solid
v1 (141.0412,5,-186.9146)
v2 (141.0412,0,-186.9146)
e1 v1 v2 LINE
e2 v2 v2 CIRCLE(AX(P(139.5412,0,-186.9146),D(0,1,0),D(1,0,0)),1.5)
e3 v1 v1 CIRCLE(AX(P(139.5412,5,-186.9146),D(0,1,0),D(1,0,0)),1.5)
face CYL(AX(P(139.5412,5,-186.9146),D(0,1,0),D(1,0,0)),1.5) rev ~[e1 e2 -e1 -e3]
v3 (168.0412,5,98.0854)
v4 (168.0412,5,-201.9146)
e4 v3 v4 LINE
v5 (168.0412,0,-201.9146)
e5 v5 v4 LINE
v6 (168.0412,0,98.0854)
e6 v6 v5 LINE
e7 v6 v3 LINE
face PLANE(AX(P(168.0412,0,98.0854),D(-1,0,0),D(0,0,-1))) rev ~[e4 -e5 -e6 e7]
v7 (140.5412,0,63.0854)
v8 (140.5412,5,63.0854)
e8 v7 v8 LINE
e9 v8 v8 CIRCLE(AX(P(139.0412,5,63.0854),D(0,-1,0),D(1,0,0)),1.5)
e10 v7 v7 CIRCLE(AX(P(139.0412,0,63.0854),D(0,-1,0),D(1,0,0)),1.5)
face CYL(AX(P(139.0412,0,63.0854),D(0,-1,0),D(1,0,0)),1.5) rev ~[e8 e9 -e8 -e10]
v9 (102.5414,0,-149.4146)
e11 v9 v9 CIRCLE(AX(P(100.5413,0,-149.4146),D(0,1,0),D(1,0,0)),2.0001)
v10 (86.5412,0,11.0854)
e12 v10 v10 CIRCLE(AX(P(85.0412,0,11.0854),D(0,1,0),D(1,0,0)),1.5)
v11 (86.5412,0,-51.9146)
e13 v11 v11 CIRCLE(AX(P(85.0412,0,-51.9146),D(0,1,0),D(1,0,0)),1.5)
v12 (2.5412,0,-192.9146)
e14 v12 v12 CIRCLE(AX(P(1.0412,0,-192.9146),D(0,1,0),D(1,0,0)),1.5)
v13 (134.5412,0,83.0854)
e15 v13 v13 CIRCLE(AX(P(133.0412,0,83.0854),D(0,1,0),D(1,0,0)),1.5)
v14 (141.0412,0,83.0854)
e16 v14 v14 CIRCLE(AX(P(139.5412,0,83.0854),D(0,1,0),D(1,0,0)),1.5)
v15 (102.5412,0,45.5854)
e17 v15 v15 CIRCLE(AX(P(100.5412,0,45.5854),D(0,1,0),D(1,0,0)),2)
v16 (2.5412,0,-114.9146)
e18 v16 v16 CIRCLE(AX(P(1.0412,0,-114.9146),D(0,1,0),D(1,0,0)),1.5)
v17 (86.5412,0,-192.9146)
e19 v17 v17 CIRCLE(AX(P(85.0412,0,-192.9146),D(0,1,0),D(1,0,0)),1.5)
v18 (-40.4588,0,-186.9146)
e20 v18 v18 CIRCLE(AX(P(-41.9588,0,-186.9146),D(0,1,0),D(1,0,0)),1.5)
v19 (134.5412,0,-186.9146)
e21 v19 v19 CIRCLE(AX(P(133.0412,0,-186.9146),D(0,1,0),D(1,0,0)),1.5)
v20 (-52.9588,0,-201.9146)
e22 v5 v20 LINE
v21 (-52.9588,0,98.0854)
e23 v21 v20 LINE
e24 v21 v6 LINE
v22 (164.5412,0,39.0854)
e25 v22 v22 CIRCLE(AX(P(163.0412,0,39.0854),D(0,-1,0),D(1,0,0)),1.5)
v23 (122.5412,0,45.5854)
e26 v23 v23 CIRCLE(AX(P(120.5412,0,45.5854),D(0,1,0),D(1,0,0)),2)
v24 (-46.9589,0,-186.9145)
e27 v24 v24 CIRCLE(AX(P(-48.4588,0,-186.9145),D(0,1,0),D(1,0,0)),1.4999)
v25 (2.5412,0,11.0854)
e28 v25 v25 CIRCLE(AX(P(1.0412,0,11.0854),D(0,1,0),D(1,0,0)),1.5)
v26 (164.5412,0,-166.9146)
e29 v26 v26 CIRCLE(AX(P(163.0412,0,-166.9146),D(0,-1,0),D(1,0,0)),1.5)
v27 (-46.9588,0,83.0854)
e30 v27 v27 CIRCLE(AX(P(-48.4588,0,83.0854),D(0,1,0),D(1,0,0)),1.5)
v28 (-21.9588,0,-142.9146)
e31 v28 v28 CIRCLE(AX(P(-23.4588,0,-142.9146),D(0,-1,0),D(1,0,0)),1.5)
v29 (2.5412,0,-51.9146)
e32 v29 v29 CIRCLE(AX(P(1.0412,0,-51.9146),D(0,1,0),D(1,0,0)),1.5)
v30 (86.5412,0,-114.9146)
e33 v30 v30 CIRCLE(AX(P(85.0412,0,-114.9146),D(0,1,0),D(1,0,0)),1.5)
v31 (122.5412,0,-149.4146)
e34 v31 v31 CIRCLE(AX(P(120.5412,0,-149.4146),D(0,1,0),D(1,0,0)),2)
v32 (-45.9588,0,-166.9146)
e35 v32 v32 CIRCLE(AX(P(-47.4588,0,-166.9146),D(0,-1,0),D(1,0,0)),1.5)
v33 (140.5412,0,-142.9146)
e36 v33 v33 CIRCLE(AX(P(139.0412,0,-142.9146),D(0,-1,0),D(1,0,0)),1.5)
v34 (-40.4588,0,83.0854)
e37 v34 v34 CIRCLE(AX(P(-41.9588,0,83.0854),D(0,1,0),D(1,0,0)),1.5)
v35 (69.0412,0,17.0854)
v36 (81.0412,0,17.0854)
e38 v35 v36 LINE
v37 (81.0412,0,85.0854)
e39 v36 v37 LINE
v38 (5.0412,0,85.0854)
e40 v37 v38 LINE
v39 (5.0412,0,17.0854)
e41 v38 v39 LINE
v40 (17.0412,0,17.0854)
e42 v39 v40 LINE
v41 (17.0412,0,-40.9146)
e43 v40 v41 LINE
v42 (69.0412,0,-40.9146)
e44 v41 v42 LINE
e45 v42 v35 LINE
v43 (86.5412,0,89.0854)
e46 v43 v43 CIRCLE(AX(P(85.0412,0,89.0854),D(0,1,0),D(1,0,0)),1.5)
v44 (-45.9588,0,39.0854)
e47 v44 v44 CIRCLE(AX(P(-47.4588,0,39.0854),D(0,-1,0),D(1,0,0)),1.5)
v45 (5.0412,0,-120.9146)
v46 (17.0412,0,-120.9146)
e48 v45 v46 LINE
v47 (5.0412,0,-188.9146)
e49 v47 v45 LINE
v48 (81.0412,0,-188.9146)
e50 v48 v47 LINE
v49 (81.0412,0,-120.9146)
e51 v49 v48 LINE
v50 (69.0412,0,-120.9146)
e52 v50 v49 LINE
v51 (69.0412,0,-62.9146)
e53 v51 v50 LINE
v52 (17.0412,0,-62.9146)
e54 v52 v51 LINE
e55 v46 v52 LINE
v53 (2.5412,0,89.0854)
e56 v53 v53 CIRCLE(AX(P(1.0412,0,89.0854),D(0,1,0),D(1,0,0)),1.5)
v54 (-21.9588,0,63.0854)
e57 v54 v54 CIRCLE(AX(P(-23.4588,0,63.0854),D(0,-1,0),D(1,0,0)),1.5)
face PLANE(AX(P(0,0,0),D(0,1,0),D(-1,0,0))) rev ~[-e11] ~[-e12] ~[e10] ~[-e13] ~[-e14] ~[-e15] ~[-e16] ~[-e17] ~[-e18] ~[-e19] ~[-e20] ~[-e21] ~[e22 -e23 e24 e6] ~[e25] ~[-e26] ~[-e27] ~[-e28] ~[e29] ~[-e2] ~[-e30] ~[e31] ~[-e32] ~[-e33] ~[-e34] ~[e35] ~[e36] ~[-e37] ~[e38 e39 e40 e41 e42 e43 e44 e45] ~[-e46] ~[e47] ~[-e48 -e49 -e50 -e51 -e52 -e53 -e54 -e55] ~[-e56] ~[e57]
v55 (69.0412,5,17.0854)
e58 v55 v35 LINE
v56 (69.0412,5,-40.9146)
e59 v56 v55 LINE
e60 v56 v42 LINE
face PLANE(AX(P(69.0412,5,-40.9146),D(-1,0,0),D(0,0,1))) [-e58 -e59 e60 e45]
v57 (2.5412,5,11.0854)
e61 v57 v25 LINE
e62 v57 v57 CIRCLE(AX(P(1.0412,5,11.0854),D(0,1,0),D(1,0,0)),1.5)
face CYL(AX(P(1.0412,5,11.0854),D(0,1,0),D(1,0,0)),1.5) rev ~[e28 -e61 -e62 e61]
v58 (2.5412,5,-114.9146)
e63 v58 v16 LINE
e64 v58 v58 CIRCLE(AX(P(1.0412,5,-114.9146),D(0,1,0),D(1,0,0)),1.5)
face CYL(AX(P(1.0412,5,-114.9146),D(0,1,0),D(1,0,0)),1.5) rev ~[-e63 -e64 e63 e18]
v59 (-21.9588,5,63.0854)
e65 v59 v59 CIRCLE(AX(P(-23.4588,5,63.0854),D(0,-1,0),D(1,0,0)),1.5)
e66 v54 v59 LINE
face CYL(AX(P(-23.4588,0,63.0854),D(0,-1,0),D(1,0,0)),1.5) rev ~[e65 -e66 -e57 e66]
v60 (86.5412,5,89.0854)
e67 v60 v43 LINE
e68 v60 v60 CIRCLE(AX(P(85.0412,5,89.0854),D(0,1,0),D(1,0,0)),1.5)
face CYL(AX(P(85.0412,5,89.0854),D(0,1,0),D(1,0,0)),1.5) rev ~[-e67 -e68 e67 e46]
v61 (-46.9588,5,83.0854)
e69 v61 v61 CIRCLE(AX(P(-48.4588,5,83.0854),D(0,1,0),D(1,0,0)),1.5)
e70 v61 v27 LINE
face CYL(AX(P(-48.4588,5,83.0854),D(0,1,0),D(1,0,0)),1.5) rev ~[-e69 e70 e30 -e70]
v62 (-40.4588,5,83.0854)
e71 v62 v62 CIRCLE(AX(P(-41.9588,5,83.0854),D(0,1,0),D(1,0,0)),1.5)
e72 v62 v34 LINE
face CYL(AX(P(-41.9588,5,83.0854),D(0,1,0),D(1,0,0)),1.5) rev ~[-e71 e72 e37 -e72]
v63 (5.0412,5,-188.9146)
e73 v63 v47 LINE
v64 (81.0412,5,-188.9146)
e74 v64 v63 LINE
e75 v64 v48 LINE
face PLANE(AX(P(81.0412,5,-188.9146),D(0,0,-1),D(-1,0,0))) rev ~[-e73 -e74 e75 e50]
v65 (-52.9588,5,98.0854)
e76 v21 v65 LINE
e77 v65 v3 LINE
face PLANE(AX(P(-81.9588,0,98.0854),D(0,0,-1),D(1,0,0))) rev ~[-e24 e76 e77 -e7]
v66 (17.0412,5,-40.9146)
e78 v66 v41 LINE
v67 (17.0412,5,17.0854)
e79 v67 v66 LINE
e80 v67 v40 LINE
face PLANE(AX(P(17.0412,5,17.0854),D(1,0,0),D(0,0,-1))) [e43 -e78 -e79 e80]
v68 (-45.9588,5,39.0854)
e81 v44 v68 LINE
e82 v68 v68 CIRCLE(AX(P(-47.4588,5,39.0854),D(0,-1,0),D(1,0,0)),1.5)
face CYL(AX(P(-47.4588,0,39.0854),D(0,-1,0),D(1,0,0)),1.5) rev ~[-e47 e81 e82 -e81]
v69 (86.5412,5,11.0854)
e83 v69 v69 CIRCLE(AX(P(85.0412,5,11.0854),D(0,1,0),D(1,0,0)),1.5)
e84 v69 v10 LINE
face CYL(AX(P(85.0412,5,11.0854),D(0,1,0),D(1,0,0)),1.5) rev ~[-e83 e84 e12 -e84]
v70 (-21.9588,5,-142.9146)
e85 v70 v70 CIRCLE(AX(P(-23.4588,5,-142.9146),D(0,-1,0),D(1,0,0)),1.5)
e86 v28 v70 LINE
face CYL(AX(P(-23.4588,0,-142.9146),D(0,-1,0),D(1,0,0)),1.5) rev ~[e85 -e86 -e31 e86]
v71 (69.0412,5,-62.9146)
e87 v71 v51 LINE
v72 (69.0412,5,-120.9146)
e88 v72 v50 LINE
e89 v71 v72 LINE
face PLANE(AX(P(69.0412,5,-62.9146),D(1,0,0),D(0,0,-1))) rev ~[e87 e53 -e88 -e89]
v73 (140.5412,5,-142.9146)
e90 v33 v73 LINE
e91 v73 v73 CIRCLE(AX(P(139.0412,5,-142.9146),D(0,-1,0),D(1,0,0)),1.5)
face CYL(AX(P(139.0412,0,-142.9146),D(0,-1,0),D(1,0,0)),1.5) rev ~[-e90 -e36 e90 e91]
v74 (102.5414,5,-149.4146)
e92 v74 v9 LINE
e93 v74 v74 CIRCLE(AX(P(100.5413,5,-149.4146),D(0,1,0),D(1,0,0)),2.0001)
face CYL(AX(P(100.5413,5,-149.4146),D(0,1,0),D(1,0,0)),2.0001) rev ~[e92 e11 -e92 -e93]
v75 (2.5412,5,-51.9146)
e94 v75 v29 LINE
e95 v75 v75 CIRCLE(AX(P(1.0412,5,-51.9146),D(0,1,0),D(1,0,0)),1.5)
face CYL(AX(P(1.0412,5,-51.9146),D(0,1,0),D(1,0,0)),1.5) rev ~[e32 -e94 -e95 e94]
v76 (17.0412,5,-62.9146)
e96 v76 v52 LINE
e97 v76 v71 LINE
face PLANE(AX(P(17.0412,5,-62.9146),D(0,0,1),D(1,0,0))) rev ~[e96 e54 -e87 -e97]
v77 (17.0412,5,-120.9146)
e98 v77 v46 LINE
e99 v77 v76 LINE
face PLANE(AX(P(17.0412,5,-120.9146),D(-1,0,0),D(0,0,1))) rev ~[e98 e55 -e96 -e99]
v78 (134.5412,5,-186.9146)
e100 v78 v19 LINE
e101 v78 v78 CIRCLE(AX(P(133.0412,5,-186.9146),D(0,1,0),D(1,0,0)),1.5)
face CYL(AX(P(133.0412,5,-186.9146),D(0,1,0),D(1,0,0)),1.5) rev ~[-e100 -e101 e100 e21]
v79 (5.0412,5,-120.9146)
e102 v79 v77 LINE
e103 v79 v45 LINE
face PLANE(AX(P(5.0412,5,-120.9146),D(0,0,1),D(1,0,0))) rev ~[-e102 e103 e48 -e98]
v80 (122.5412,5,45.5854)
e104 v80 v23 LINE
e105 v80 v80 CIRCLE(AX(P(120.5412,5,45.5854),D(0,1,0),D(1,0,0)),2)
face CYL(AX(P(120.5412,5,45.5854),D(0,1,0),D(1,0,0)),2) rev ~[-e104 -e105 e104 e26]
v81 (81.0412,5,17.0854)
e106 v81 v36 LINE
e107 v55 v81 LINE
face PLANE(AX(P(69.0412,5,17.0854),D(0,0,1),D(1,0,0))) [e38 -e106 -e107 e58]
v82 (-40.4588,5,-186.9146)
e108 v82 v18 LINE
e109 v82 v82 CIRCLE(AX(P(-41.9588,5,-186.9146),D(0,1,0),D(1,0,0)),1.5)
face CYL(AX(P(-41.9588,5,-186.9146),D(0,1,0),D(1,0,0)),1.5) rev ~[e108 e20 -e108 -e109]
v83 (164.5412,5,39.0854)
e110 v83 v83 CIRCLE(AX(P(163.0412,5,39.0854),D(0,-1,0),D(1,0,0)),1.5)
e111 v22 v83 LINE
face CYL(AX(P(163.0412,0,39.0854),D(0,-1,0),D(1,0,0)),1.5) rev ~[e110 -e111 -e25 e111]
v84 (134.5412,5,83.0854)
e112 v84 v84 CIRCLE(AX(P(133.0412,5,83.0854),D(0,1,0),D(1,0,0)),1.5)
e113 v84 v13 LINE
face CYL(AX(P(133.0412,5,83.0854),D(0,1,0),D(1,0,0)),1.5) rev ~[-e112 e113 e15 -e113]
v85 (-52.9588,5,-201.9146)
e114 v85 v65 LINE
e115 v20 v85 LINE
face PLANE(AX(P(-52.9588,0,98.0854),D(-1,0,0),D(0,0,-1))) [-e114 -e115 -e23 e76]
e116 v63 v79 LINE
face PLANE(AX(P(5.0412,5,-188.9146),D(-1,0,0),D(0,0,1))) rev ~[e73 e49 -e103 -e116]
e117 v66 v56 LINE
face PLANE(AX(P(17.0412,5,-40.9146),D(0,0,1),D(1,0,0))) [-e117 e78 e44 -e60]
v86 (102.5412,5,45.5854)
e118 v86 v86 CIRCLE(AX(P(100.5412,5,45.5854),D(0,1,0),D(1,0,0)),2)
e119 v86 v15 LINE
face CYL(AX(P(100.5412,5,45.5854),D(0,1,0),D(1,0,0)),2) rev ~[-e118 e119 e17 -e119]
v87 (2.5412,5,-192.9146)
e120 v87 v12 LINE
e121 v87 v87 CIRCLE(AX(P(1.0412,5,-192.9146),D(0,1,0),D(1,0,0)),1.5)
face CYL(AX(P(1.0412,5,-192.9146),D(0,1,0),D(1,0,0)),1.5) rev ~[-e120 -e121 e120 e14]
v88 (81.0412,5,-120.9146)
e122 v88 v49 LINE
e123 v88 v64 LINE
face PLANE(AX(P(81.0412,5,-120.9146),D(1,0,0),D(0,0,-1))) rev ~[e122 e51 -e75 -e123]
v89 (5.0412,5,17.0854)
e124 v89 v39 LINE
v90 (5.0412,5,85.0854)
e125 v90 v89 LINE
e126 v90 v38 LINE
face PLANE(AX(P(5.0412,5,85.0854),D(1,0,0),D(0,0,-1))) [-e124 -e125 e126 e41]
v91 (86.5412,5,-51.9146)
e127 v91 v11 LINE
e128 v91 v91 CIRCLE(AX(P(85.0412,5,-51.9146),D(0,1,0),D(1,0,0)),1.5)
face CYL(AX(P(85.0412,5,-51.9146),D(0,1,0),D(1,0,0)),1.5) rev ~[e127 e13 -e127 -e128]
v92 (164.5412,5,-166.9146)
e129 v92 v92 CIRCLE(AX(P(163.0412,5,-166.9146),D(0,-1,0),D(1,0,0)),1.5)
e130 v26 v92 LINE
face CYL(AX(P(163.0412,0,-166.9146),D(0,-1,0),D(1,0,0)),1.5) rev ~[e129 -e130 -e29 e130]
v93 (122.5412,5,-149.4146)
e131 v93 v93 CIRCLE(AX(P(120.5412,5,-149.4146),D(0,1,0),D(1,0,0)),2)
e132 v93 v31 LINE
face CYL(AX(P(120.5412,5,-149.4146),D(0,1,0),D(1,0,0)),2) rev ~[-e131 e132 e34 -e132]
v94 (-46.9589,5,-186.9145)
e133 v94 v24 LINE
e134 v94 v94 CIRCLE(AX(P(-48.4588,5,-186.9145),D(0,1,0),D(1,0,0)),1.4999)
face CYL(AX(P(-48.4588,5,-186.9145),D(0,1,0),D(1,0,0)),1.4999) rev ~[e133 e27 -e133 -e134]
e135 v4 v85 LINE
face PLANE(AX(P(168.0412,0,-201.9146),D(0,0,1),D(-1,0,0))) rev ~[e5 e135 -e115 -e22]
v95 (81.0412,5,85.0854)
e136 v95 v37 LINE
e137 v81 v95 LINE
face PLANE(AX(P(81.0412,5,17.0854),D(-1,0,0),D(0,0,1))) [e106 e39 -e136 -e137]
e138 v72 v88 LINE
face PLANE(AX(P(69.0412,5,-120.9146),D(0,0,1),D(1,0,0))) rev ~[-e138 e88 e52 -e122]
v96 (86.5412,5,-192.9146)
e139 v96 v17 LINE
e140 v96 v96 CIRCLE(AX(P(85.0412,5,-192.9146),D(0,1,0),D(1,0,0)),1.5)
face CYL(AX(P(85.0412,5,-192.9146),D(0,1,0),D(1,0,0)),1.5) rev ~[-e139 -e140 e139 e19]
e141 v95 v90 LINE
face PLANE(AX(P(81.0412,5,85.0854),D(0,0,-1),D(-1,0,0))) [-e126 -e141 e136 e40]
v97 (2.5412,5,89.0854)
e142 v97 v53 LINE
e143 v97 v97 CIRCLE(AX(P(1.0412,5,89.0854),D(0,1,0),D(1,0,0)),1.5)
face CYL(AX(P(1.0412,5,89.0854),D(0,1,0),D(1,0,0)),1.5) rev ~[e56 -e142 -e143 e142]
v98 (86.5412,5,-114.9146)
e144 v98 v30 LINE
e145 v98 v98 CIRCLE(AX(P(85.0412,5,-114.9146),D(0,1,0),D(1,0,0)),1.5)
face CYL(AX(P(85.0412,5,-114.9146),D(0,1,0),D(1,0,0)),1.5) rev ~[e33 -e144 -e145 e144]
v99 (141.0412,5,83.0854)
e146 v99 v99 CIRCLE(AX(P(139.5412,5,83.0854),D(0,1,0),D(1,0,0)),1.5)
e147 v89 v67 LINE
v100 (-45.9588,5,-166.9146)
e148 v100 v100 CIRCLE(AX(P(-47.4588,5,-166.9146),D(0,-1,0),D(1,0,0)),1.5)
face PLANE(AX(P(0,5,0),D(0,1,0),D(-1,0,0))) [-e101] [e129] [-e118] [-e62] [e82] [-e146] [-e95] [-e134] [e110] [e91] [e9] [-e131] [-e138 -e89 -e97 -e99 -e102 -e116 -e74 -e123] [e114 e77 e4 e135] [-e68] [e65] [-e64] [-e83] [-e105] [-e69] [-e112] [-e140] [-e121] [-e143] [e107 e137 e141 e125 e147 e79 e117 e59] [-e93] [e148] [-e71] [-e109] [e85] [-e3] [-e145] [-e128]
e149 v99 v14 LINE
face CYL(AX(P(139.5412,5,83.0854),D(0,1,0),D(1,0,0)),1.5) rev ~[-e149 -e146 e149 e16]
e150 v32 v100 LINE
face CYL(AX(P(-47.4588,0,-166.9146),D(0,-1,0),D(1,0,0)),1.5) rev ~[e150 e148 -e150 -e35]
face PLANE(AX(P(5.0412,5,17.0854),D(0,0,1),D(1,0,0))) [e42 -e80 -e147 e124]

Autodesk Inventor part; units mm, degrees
ref_plane "YZ Plane" through (0, 0, 0) normal (1, 0, 0) x (0, 1, 0)
ref_plane "XZ Plane" through (0, 0, 0) normal (0, 1, 0) x (-1, 0, 0)
ref_plane "XY Plane" through (0, 0, 0) normal (0, 0, 1) x (1, 0, 0)
sketch "Esquisse1" plane through (0, 0, 0) normal (0, 1, 0) x (-1, 0, 0)
  line L0 (81.9588, 98.0854) -> (-168.0412, 98.0854)
  line L1 (-168.0412, 98.0854) -> (-168.0412, -201.9146)
  line L2 (-168.0412, -201.9146) -> (81.9588, -201.9146)
  line L3 (81.9588, -201.9146) -> (81.9588, 98.0854)
  point P0 (0, 0)
  dimension "d0" = 300
  dimension "d1" = 250
extrude "Extrusion1" add sketch "Esquisse1" along normal blind 5
sketch "Sketch3" plane through (0, 5, 0) normal (0, 1, 0) x (1, 0, 0)
  line L0 (81.0412, -85.0854) -> (5.0412, -85.0854)
  line L1 (5.0412, -85.0854) -> (5.0412, -17.0854)
  line L2 (81.0412, -17.0854) -> (81.0412, -85.0854)
  line L3 (-81.9588, -98.0854) -> (168.0412, -98.0854) projected
  line L4 (168.0412, -98.0854) -> (168.0412, 201.9146) projected
  line L5 (17.0412, -17.0854) -> (17.0412, 40.9146)
  line L6 (17.0412, 40.9146) -> (69.0412, 40.9146)
  line L7 (69.0412, 40.9146) -> (69.0412, -17.0854)
  line L8 (5.0412, -17.0854) -> (17.0412, -17.0854)
  line L9 (69.0412, -17.0854) -> (81.0412, -17.0854)
  line L10 (81.0412, 188.9146) -> (5.0412, 188.9146)
  line L11 (5.0412, 188.9146) -> (5.0412, 120.9146)
  line L12 (81.0412, 120.9146) -> (81.0412, 188.9146)
  line L13 (168.0412, 201.9146) -> (-81.9588, 201.9146) projected
  line L14 (17.0412, 120.9146) -> (17.0412, 62.9146)
  line L15 (17.0412, 62.9146) -> (69.0412, 62.9146)
  line L16 (69.0412, 62.9146) -> (69.0412, 120.9146)
  line L17 (5.0412, 120.9146) -> (17.0412, 120.9146)
  line L18 (69.0412, 120.9146) -> (81.0412, 120.9146)
  circle A0 centre (85.0412, 51.9146) radius 1.5
  line L19 (-81.9588, 201.9146) -> (-81.9588, -98.0854) projected
  circle A1 centre (1.0412, 51.9146) radius 1.5
  point P0 (0, 0)
  dimension "d17" = 76
  dimension "d18" = 68
  dimension "d19" = 13
  dimension "d20" = 87
  dimension "d21" = 12
  dimension "d22" = 12
  dimension "d23" = 58
  dimension "d24" = 68
  dimension "d25" = 52
  dimension "d26" = 13
  dimension "d27" = 76
  dimension "d28" = 68
  dimension "d29" = 87
  dimension "d30" = 12
  dimension "d31" = 12
  dimension "d32" = 58
  dimension "d33" = 52
  dimension "d34" = 68
  dimension "d39" = 3
  dimension "d53" = 83
  dimension "d54" = 150
  dimension "d58" = 3
  dimension "d59" = 83
  dimension "d60" = 150
extrude "Extrusion3" cut sketch "Sketch3" against normal through all contours L0 L1 L8 L5 L6 L7 L9 L2 | L12 L18 L16 L15 L14 L17 L11 L10 | A0 | A1
sketch "Sketch4" plane through (0, 5, 0) normal (0, 1, 0) x (1, 0, 0)
  circle A0 centre (1.0412, -89.0854) radius 1.5 projected
  circle A1 centre (1.0412, -11.0854) radius 1.5 projected
  circle A2 centre (85.0412, -89.0854) radius 1.5 projected
  circle A3 centre (85.0412, -11.0854) radius 1.5 projected
  circle A4 centre (1.0412, 114.9146) radius 1.5 projected
  circle A5 centre (1.0412, 192.9146) radius 1.5 projected
  circle A6 centre (85.0412, 192.9146) radius 1.5 projected
  circle A7 centre (85.0412, 114.9146) radius 1.5 projected
  point P0 (0, 0)
extrude "Extrusion4" cut sketch "Sketch4" against normal up to next
sketch "Esquisse5" plane through (0, 5, 0) normal (0, 1, 0) x (1, 0, 0)
  circle A0 centre (139.5412, -83.0854) radius 1.5 projected
  circle A1 centre (133.0412, -83.0854) radius 1.5 projected
  circle A2 centre (133.0412, 186.9146) radius 1.5 projected
  circle A3 centre (139.5412, 186.9146) radius 1.5 projected
  circle A4 centre (-41.9588, 186.9146) radius 1.5 projected
  circle A5 centre (-48.4588, 186.9145) radius 1.4999 projected
  circle A6 centre (-41.9588, -83.0854) radius 1.5 projected
  circle A7 centre (85.0412, 192.9146) radius 1.5 projected
  circle A8 centre (1.0412, 114.9146) radius 1.5 projected
  circle A9 centre (85.0412, -89.0854) radius 1.5 projected
  circle A10 centre (1.0412, -89.0854) radius 1.5 projected
  circle A11 centre (1.0412, -11.0854) radius 1.5 projected
  circle A12 centre (85.0412, -11.0854) radius 1.5 projected
  circle A13 centre (1.0412, 192.9146) radius 1.5 projected
  circle A14 centre (85.0412, 114.9146) radius 1.5 projected
  line L0 (81.0412, -17.0854) -> (81.0412, -85.0854) projected
  line L1 (81.0412, -85.0854) -> (5.0412, -85.0854) projected
  line L2 (5.0412, -85.0854) -> (5.0412, -17.0854) projected
  line L3 (5.0412, -17.0854) -> (17.0412, -17.0854) projected
  line L4 (17.0412, -17.0854) -> (17.0412, 40.9146) projected
  line L5 (17.0412, 40.9146) -> (69.0412, 40.9146) projected
  line L6 (69.0412, 40.9146) -> (69.0412, -17.0854) projected
  line L7 (69.0412, -17.0854) -> (81.0412, -17.0854) projected
  circle A15 centre (85.0412, 51.9146) radius 1.5 projected
  circle A16 centre (1.0412, 51.9146) radius 1.5 projected
  line L8 (5.0412, 120.9146) -> (5.0412, 188.9146) projected
  line L9 (5.0412, 188.9146) -> (81.0412, 188.9146) projected
  line L10 (81.0412, 188.9146) -> (81.0412, 120.9146) projected
  line L11 (81.0412, 120.9146) -> (69.0412, 120.9146) projected
  line L12 (69.0412, 120.9146) -> (69.0412, 62.9146) projected
  line L13 (69.0412, 62.9146) -> (17.0412, 62.9146) projected
  line L14 (17.0412, 62.9146) -> (17.0412, 120.9146) projected
  line L15 (17.0412, 120.9146) -> (5.0412, 120.9146) projected
  line L16 (-81.9588, -98.0854) -> (168.0412, -98.0854) projected
  line L17 (168.0412, -98.0854) -> (168.0412, 201.9146) projected
  line L18 (168.0412, 201.9146) -> (-81.9588, 201.9146) projected
  line L19 (-81.9588, 201.9146) -> (-81.9588, -98.0854) projected
  circle A17 centre (-48.4588, -83.0854) radius 1.5 projected
  point P0 (0, 0)
extrude "Extrusion5" cut sketch "Esquisse5" against normal up to next contours A0 | A1 | A2 | A3 | A4 | A5 | A6 | A17
sketch "Esquisse6" plane through (0, 0, 0) normal (0, -1, 0) x (1, 0, 0)
  circle A0 centre (139.0412, 63.0854) radius 1.5 projected
  circle A1 centre (163.0412, 39.0854) radius 1.5 projected
  circle A2 centre (139.0412, -142.9146) radius 1.5 projected
  circle A3 centre (163.0412, -166.9146) radius 1.5 projected
  line L0 (-81.9588, 98.0854) -> (168.0412, 98.0854) projected
  line L1 (168.0412, -201.9146) -> (-81.9588, -201.9146) projected
  line L2 (57.7912, 123.3914) -> (57.7912, -232.7016)
  line L3 (168.0412, 98.0854) -> (168.0412, -201.9146) projected
  circle A4 centre (-23.4588, 63.0854) radius 1.5
  circle A5 centre (-47.4588, 39.0854) radius 1.5
  circle A6 centre (-23.4588, -142.9146) radius 1.5
  circle A7 centre (-47.4588, -166.9146) radius 1.5
  point P0 (0, 0)
  dimension "d82" = 110.25
extrude "Extrusion6" cut sketch "Esquisse6" against normal up to next contours A0 | A1 | A2 | A3 | A4 | A5 | A6 | A7
sketch "Esquisse7" plane through (0, 5, 0) normal (0, 1, 0) x (1, 0, 0)
  circle A0 centre (152.0412, 161.9146) radius 1.5 projected
  circle A1 centre (-65.9588, 51.9146) radius 1.5 projected
  circle A2 centre (152.0412, 51.9146) radius 1.5 projected
  circle A3 centre (152.0412, -58.0854) radius 1.5 projected
  line L0 (-81.9588, 201.9146) -> (168.0412, 201.9146) projected
  line L1 (-81.9588, -98.0854) -> (-81.9588, 201.9146) projected
  line L2 (168.0412, -98.0854) -> (-81.9588, -98.0854) projected
  line L3 (168.0412, 201.9146) -> (168.0412, -98.0854) projected
  circle A4 centre (152.0412, 161.9146) radius 1.5 projected
  circle A5 centre (-65.9588, 51.9146) radius 1.5 projected
  circle A6 centre (152.0412, 51.9146) radius 1.5 projected
  circle A7 centre (152.0412, -58.0854) radius 1.5 projected
  line L4 (-81.9588, 201.9146) -> (168.0412, 201.9146) projected
  line L5 (-81.9588, -98.0854) -> (-81.9588, 201.9146) projected
  line L6 (168.0412, -98.0854) -> (-81.9588, -98.0854) projected
  line L7 (168.0412, 201.9146) -> (168.0412, -98.0854) projected
  circle A8 centre (152.0412, 161.9146) radius 1.5 projected
  circle A9 centre (-65.9588, 51.9146) radius 1.5 projected
  circle A10 centre (152.0412, 51.9146) radius 1.5 projected
  circle A11 centre (152.0412, -58.0854) radius 1.5 projected
  line L8 (-81.9588, 201.9146) -> (168.0412, 201.9146) projected
  line L9 (-81.9588, -98.0854) -> (-81.9588, 201.9146) projected
  line L10 (168.0412, -98.0854) -> (-81.9588, -98.0854) projected
  line L11 (168.0412, 201.9146) -> (168.0412, -98.0854) projected
  circle A12 centre (133.0412, -83.0854) radius 1.5 projected
  circle A13 centre (-41.9588, 186.9146) radius 1.5 projected
  circle A14 centre (133.0412, 186.9146) radius 1.5 projected
  circle A15 centre (-48.4588, 186.9145) radius 1.4999 projected
  circle A16 centre (139.5412, 186.9146) radius 1.5 projected
  circle A17 centre (-41.9588, -83.0854) radius 1.5 projected
  circle A18 centre (139.5412, -83.0854) radius 1.5 projected
  circle A19 centre (-48.4588, -83.0854) radius 1.5 projected
  circle A20 centre (85.0412, 192.9146) radius 1.5 projected
  circle A21 centre (1.0412, 114.9146) radius 1.5 projected
  circle A22 centre (85.0412, -89.0854) radius 1.5 projected
  circle A23 centre (1.0412, -89.0854) radius 1.5 projected
  circle A24 centre (1.0412, -11.0854) radius 1.5 projected
  circle A25 centre (85.0412, -11.0854) radius 1.5 projected
  circle A26 centre (1.0412, 192.9146) radius 1.5 projected
  circle A27 centre (85.0412, 114.9146) radius 1.5 projected
  line L12 (81.0412, -17.0854) -> (81.0412, -85.0854) projected
  line L13 (81.0412, -85.0854) -> (5.0412, -85.0854) projected
  line L14 (5.0412, -85.0854) -> (5.0412, -17.0854) projected
  line L15 (5.0412, -17.0854) -> (17.0412, -17.0854) projected
  line L16 (17.0412, -17.0854) -> (17.0412, 40.9146) projected
  line L17 (17.0412, 40.9146) -> (69.0412, 40.9146) projected
  line L18 (69.0412, 40.9146) -> (69.0412, -17.0854) projected
  line L19 (69.0412, -17.0854) -> (81.0412, -17.0854) projected
  circle A28 centre (85.0412, 51.9146) radius 1.5 projected
  circle A29 centre (1.0412, 51.9146) radius 1.5 projected
  line L20 (5.0412, 120.9146) -> (5.0412, 188.9146) projected
  line L21 (5.0412, 188.9146) -> (81.0412, 188.9146) projected
  line L22 (81.0412, 188.9146) -> (81.0412, 120.9146) projected
  line L23 (81.0412, 120.9146) -> (69.0412, 120.9146) projected
  line L24 (69.0412, 120.9146) -> (69.0412, 62.9146) projected
  line L25 (69.0412, 62.9146) -> (17.0412, 62.9146) projected
  line L26 (17.0412, 62.9146) -> (17.0412, 120.9146) projected
  line L27 (17.0412, 120.9146) -> (5.0412, 120.9146) projected
  line L28 (-81.9588, -98.0854) -> (168.0412, -98.0854) projected
  line L29 (168.0412, -98.0854) -> (168.0412, 201.9146) projected
  line L30 (168.0412, 201.9146) -> (-81.9588, 201.9146) projected
  line L31 (-81.9588, 201.9146) -> (-81.9588, -98.0854) projected
  circle A30 centre (100.5413, 149.4146) radius 2.0001 projected
  circle A31 centre (120.5412, 149.4146) radius 2 projected
  circle A32 centre (100.5412, -45.5854) radius 2 projected
  circle A33 centre (120.5412, -45.5854) radius 2 projected
  circle A34 centre (75.0412, 19.9146) radius 2 projected
  circle A35 centre (11.0412, 83.9146) radius 2 projected
  circle A36 centre (11.0412, 19.9146) radius 2 projected
  circle A37 centre (75.0412, 83.9146) radius 2 projected
  circle A38 centre (-61.9588, 171.9146) radius 7.5 projected
  circle A39 centre (75.0412, 19.9146) radius 2 projected
  circle A40 centre (11.0412, 83.9146) radius 2 projected
  circle A41 centre (11.0412, 19.9146) radius 2 projected
  circle A42 centre (75.0412, 83.9146) radius 2 projected
  circle A43 centre (-61.9588, 171.9146) radius 7.5 projected
  circle A44 centre (75.0412, 19.9146) radius 2 projected
  circle A45 centre (11.0412, 83.9146) radius 2 projected
  circle A46 centre (11.0412, 19.9146) radius 2 projected
  circle A47 centre (75.0412, 83.9146) radius 2 projected
  circle A48 centre (-61.9588, 171.9146) radius 7.5 projected
  point P0 (0, 0)
extrude "Extrusion7" cut sketch "Esquisse7" against normal up to next contours A30 | A31 | A32 | A33
sketch "Esquisse8" plane through (0, 0, 0) normal (0, -1, 0) x (1, 0, 0)
  line L0 (-81.9588, 98.0854) -> (168.0412, 98.0854) projected
  line L1 (168.0412, -201.9146) -> (-81.9588, -201.9146) projected
  line L2 (-81.9588, 98.0854) -> (-52.9588, 98.0854)
  line L3 (-52.9588, 98.0854) -> (-52.9588, -201.9146)
  line L4 (-52.9588, -201.9146) -> (-81.9588, -201.9146)
  line L5 (-81.9588, -201.9146) -> (-81.9588, 98.0854)
  circle A0 centre (-48.4588, 83.0854) radius 1.5 projected
  point P0 (0, 0)
  dimension "d79" = 4.5
extrude "Extrusion8" cut sketch "Esquisse8" against normal through all contours L0 L3 L1 L5
properties part number "socle-robot"
